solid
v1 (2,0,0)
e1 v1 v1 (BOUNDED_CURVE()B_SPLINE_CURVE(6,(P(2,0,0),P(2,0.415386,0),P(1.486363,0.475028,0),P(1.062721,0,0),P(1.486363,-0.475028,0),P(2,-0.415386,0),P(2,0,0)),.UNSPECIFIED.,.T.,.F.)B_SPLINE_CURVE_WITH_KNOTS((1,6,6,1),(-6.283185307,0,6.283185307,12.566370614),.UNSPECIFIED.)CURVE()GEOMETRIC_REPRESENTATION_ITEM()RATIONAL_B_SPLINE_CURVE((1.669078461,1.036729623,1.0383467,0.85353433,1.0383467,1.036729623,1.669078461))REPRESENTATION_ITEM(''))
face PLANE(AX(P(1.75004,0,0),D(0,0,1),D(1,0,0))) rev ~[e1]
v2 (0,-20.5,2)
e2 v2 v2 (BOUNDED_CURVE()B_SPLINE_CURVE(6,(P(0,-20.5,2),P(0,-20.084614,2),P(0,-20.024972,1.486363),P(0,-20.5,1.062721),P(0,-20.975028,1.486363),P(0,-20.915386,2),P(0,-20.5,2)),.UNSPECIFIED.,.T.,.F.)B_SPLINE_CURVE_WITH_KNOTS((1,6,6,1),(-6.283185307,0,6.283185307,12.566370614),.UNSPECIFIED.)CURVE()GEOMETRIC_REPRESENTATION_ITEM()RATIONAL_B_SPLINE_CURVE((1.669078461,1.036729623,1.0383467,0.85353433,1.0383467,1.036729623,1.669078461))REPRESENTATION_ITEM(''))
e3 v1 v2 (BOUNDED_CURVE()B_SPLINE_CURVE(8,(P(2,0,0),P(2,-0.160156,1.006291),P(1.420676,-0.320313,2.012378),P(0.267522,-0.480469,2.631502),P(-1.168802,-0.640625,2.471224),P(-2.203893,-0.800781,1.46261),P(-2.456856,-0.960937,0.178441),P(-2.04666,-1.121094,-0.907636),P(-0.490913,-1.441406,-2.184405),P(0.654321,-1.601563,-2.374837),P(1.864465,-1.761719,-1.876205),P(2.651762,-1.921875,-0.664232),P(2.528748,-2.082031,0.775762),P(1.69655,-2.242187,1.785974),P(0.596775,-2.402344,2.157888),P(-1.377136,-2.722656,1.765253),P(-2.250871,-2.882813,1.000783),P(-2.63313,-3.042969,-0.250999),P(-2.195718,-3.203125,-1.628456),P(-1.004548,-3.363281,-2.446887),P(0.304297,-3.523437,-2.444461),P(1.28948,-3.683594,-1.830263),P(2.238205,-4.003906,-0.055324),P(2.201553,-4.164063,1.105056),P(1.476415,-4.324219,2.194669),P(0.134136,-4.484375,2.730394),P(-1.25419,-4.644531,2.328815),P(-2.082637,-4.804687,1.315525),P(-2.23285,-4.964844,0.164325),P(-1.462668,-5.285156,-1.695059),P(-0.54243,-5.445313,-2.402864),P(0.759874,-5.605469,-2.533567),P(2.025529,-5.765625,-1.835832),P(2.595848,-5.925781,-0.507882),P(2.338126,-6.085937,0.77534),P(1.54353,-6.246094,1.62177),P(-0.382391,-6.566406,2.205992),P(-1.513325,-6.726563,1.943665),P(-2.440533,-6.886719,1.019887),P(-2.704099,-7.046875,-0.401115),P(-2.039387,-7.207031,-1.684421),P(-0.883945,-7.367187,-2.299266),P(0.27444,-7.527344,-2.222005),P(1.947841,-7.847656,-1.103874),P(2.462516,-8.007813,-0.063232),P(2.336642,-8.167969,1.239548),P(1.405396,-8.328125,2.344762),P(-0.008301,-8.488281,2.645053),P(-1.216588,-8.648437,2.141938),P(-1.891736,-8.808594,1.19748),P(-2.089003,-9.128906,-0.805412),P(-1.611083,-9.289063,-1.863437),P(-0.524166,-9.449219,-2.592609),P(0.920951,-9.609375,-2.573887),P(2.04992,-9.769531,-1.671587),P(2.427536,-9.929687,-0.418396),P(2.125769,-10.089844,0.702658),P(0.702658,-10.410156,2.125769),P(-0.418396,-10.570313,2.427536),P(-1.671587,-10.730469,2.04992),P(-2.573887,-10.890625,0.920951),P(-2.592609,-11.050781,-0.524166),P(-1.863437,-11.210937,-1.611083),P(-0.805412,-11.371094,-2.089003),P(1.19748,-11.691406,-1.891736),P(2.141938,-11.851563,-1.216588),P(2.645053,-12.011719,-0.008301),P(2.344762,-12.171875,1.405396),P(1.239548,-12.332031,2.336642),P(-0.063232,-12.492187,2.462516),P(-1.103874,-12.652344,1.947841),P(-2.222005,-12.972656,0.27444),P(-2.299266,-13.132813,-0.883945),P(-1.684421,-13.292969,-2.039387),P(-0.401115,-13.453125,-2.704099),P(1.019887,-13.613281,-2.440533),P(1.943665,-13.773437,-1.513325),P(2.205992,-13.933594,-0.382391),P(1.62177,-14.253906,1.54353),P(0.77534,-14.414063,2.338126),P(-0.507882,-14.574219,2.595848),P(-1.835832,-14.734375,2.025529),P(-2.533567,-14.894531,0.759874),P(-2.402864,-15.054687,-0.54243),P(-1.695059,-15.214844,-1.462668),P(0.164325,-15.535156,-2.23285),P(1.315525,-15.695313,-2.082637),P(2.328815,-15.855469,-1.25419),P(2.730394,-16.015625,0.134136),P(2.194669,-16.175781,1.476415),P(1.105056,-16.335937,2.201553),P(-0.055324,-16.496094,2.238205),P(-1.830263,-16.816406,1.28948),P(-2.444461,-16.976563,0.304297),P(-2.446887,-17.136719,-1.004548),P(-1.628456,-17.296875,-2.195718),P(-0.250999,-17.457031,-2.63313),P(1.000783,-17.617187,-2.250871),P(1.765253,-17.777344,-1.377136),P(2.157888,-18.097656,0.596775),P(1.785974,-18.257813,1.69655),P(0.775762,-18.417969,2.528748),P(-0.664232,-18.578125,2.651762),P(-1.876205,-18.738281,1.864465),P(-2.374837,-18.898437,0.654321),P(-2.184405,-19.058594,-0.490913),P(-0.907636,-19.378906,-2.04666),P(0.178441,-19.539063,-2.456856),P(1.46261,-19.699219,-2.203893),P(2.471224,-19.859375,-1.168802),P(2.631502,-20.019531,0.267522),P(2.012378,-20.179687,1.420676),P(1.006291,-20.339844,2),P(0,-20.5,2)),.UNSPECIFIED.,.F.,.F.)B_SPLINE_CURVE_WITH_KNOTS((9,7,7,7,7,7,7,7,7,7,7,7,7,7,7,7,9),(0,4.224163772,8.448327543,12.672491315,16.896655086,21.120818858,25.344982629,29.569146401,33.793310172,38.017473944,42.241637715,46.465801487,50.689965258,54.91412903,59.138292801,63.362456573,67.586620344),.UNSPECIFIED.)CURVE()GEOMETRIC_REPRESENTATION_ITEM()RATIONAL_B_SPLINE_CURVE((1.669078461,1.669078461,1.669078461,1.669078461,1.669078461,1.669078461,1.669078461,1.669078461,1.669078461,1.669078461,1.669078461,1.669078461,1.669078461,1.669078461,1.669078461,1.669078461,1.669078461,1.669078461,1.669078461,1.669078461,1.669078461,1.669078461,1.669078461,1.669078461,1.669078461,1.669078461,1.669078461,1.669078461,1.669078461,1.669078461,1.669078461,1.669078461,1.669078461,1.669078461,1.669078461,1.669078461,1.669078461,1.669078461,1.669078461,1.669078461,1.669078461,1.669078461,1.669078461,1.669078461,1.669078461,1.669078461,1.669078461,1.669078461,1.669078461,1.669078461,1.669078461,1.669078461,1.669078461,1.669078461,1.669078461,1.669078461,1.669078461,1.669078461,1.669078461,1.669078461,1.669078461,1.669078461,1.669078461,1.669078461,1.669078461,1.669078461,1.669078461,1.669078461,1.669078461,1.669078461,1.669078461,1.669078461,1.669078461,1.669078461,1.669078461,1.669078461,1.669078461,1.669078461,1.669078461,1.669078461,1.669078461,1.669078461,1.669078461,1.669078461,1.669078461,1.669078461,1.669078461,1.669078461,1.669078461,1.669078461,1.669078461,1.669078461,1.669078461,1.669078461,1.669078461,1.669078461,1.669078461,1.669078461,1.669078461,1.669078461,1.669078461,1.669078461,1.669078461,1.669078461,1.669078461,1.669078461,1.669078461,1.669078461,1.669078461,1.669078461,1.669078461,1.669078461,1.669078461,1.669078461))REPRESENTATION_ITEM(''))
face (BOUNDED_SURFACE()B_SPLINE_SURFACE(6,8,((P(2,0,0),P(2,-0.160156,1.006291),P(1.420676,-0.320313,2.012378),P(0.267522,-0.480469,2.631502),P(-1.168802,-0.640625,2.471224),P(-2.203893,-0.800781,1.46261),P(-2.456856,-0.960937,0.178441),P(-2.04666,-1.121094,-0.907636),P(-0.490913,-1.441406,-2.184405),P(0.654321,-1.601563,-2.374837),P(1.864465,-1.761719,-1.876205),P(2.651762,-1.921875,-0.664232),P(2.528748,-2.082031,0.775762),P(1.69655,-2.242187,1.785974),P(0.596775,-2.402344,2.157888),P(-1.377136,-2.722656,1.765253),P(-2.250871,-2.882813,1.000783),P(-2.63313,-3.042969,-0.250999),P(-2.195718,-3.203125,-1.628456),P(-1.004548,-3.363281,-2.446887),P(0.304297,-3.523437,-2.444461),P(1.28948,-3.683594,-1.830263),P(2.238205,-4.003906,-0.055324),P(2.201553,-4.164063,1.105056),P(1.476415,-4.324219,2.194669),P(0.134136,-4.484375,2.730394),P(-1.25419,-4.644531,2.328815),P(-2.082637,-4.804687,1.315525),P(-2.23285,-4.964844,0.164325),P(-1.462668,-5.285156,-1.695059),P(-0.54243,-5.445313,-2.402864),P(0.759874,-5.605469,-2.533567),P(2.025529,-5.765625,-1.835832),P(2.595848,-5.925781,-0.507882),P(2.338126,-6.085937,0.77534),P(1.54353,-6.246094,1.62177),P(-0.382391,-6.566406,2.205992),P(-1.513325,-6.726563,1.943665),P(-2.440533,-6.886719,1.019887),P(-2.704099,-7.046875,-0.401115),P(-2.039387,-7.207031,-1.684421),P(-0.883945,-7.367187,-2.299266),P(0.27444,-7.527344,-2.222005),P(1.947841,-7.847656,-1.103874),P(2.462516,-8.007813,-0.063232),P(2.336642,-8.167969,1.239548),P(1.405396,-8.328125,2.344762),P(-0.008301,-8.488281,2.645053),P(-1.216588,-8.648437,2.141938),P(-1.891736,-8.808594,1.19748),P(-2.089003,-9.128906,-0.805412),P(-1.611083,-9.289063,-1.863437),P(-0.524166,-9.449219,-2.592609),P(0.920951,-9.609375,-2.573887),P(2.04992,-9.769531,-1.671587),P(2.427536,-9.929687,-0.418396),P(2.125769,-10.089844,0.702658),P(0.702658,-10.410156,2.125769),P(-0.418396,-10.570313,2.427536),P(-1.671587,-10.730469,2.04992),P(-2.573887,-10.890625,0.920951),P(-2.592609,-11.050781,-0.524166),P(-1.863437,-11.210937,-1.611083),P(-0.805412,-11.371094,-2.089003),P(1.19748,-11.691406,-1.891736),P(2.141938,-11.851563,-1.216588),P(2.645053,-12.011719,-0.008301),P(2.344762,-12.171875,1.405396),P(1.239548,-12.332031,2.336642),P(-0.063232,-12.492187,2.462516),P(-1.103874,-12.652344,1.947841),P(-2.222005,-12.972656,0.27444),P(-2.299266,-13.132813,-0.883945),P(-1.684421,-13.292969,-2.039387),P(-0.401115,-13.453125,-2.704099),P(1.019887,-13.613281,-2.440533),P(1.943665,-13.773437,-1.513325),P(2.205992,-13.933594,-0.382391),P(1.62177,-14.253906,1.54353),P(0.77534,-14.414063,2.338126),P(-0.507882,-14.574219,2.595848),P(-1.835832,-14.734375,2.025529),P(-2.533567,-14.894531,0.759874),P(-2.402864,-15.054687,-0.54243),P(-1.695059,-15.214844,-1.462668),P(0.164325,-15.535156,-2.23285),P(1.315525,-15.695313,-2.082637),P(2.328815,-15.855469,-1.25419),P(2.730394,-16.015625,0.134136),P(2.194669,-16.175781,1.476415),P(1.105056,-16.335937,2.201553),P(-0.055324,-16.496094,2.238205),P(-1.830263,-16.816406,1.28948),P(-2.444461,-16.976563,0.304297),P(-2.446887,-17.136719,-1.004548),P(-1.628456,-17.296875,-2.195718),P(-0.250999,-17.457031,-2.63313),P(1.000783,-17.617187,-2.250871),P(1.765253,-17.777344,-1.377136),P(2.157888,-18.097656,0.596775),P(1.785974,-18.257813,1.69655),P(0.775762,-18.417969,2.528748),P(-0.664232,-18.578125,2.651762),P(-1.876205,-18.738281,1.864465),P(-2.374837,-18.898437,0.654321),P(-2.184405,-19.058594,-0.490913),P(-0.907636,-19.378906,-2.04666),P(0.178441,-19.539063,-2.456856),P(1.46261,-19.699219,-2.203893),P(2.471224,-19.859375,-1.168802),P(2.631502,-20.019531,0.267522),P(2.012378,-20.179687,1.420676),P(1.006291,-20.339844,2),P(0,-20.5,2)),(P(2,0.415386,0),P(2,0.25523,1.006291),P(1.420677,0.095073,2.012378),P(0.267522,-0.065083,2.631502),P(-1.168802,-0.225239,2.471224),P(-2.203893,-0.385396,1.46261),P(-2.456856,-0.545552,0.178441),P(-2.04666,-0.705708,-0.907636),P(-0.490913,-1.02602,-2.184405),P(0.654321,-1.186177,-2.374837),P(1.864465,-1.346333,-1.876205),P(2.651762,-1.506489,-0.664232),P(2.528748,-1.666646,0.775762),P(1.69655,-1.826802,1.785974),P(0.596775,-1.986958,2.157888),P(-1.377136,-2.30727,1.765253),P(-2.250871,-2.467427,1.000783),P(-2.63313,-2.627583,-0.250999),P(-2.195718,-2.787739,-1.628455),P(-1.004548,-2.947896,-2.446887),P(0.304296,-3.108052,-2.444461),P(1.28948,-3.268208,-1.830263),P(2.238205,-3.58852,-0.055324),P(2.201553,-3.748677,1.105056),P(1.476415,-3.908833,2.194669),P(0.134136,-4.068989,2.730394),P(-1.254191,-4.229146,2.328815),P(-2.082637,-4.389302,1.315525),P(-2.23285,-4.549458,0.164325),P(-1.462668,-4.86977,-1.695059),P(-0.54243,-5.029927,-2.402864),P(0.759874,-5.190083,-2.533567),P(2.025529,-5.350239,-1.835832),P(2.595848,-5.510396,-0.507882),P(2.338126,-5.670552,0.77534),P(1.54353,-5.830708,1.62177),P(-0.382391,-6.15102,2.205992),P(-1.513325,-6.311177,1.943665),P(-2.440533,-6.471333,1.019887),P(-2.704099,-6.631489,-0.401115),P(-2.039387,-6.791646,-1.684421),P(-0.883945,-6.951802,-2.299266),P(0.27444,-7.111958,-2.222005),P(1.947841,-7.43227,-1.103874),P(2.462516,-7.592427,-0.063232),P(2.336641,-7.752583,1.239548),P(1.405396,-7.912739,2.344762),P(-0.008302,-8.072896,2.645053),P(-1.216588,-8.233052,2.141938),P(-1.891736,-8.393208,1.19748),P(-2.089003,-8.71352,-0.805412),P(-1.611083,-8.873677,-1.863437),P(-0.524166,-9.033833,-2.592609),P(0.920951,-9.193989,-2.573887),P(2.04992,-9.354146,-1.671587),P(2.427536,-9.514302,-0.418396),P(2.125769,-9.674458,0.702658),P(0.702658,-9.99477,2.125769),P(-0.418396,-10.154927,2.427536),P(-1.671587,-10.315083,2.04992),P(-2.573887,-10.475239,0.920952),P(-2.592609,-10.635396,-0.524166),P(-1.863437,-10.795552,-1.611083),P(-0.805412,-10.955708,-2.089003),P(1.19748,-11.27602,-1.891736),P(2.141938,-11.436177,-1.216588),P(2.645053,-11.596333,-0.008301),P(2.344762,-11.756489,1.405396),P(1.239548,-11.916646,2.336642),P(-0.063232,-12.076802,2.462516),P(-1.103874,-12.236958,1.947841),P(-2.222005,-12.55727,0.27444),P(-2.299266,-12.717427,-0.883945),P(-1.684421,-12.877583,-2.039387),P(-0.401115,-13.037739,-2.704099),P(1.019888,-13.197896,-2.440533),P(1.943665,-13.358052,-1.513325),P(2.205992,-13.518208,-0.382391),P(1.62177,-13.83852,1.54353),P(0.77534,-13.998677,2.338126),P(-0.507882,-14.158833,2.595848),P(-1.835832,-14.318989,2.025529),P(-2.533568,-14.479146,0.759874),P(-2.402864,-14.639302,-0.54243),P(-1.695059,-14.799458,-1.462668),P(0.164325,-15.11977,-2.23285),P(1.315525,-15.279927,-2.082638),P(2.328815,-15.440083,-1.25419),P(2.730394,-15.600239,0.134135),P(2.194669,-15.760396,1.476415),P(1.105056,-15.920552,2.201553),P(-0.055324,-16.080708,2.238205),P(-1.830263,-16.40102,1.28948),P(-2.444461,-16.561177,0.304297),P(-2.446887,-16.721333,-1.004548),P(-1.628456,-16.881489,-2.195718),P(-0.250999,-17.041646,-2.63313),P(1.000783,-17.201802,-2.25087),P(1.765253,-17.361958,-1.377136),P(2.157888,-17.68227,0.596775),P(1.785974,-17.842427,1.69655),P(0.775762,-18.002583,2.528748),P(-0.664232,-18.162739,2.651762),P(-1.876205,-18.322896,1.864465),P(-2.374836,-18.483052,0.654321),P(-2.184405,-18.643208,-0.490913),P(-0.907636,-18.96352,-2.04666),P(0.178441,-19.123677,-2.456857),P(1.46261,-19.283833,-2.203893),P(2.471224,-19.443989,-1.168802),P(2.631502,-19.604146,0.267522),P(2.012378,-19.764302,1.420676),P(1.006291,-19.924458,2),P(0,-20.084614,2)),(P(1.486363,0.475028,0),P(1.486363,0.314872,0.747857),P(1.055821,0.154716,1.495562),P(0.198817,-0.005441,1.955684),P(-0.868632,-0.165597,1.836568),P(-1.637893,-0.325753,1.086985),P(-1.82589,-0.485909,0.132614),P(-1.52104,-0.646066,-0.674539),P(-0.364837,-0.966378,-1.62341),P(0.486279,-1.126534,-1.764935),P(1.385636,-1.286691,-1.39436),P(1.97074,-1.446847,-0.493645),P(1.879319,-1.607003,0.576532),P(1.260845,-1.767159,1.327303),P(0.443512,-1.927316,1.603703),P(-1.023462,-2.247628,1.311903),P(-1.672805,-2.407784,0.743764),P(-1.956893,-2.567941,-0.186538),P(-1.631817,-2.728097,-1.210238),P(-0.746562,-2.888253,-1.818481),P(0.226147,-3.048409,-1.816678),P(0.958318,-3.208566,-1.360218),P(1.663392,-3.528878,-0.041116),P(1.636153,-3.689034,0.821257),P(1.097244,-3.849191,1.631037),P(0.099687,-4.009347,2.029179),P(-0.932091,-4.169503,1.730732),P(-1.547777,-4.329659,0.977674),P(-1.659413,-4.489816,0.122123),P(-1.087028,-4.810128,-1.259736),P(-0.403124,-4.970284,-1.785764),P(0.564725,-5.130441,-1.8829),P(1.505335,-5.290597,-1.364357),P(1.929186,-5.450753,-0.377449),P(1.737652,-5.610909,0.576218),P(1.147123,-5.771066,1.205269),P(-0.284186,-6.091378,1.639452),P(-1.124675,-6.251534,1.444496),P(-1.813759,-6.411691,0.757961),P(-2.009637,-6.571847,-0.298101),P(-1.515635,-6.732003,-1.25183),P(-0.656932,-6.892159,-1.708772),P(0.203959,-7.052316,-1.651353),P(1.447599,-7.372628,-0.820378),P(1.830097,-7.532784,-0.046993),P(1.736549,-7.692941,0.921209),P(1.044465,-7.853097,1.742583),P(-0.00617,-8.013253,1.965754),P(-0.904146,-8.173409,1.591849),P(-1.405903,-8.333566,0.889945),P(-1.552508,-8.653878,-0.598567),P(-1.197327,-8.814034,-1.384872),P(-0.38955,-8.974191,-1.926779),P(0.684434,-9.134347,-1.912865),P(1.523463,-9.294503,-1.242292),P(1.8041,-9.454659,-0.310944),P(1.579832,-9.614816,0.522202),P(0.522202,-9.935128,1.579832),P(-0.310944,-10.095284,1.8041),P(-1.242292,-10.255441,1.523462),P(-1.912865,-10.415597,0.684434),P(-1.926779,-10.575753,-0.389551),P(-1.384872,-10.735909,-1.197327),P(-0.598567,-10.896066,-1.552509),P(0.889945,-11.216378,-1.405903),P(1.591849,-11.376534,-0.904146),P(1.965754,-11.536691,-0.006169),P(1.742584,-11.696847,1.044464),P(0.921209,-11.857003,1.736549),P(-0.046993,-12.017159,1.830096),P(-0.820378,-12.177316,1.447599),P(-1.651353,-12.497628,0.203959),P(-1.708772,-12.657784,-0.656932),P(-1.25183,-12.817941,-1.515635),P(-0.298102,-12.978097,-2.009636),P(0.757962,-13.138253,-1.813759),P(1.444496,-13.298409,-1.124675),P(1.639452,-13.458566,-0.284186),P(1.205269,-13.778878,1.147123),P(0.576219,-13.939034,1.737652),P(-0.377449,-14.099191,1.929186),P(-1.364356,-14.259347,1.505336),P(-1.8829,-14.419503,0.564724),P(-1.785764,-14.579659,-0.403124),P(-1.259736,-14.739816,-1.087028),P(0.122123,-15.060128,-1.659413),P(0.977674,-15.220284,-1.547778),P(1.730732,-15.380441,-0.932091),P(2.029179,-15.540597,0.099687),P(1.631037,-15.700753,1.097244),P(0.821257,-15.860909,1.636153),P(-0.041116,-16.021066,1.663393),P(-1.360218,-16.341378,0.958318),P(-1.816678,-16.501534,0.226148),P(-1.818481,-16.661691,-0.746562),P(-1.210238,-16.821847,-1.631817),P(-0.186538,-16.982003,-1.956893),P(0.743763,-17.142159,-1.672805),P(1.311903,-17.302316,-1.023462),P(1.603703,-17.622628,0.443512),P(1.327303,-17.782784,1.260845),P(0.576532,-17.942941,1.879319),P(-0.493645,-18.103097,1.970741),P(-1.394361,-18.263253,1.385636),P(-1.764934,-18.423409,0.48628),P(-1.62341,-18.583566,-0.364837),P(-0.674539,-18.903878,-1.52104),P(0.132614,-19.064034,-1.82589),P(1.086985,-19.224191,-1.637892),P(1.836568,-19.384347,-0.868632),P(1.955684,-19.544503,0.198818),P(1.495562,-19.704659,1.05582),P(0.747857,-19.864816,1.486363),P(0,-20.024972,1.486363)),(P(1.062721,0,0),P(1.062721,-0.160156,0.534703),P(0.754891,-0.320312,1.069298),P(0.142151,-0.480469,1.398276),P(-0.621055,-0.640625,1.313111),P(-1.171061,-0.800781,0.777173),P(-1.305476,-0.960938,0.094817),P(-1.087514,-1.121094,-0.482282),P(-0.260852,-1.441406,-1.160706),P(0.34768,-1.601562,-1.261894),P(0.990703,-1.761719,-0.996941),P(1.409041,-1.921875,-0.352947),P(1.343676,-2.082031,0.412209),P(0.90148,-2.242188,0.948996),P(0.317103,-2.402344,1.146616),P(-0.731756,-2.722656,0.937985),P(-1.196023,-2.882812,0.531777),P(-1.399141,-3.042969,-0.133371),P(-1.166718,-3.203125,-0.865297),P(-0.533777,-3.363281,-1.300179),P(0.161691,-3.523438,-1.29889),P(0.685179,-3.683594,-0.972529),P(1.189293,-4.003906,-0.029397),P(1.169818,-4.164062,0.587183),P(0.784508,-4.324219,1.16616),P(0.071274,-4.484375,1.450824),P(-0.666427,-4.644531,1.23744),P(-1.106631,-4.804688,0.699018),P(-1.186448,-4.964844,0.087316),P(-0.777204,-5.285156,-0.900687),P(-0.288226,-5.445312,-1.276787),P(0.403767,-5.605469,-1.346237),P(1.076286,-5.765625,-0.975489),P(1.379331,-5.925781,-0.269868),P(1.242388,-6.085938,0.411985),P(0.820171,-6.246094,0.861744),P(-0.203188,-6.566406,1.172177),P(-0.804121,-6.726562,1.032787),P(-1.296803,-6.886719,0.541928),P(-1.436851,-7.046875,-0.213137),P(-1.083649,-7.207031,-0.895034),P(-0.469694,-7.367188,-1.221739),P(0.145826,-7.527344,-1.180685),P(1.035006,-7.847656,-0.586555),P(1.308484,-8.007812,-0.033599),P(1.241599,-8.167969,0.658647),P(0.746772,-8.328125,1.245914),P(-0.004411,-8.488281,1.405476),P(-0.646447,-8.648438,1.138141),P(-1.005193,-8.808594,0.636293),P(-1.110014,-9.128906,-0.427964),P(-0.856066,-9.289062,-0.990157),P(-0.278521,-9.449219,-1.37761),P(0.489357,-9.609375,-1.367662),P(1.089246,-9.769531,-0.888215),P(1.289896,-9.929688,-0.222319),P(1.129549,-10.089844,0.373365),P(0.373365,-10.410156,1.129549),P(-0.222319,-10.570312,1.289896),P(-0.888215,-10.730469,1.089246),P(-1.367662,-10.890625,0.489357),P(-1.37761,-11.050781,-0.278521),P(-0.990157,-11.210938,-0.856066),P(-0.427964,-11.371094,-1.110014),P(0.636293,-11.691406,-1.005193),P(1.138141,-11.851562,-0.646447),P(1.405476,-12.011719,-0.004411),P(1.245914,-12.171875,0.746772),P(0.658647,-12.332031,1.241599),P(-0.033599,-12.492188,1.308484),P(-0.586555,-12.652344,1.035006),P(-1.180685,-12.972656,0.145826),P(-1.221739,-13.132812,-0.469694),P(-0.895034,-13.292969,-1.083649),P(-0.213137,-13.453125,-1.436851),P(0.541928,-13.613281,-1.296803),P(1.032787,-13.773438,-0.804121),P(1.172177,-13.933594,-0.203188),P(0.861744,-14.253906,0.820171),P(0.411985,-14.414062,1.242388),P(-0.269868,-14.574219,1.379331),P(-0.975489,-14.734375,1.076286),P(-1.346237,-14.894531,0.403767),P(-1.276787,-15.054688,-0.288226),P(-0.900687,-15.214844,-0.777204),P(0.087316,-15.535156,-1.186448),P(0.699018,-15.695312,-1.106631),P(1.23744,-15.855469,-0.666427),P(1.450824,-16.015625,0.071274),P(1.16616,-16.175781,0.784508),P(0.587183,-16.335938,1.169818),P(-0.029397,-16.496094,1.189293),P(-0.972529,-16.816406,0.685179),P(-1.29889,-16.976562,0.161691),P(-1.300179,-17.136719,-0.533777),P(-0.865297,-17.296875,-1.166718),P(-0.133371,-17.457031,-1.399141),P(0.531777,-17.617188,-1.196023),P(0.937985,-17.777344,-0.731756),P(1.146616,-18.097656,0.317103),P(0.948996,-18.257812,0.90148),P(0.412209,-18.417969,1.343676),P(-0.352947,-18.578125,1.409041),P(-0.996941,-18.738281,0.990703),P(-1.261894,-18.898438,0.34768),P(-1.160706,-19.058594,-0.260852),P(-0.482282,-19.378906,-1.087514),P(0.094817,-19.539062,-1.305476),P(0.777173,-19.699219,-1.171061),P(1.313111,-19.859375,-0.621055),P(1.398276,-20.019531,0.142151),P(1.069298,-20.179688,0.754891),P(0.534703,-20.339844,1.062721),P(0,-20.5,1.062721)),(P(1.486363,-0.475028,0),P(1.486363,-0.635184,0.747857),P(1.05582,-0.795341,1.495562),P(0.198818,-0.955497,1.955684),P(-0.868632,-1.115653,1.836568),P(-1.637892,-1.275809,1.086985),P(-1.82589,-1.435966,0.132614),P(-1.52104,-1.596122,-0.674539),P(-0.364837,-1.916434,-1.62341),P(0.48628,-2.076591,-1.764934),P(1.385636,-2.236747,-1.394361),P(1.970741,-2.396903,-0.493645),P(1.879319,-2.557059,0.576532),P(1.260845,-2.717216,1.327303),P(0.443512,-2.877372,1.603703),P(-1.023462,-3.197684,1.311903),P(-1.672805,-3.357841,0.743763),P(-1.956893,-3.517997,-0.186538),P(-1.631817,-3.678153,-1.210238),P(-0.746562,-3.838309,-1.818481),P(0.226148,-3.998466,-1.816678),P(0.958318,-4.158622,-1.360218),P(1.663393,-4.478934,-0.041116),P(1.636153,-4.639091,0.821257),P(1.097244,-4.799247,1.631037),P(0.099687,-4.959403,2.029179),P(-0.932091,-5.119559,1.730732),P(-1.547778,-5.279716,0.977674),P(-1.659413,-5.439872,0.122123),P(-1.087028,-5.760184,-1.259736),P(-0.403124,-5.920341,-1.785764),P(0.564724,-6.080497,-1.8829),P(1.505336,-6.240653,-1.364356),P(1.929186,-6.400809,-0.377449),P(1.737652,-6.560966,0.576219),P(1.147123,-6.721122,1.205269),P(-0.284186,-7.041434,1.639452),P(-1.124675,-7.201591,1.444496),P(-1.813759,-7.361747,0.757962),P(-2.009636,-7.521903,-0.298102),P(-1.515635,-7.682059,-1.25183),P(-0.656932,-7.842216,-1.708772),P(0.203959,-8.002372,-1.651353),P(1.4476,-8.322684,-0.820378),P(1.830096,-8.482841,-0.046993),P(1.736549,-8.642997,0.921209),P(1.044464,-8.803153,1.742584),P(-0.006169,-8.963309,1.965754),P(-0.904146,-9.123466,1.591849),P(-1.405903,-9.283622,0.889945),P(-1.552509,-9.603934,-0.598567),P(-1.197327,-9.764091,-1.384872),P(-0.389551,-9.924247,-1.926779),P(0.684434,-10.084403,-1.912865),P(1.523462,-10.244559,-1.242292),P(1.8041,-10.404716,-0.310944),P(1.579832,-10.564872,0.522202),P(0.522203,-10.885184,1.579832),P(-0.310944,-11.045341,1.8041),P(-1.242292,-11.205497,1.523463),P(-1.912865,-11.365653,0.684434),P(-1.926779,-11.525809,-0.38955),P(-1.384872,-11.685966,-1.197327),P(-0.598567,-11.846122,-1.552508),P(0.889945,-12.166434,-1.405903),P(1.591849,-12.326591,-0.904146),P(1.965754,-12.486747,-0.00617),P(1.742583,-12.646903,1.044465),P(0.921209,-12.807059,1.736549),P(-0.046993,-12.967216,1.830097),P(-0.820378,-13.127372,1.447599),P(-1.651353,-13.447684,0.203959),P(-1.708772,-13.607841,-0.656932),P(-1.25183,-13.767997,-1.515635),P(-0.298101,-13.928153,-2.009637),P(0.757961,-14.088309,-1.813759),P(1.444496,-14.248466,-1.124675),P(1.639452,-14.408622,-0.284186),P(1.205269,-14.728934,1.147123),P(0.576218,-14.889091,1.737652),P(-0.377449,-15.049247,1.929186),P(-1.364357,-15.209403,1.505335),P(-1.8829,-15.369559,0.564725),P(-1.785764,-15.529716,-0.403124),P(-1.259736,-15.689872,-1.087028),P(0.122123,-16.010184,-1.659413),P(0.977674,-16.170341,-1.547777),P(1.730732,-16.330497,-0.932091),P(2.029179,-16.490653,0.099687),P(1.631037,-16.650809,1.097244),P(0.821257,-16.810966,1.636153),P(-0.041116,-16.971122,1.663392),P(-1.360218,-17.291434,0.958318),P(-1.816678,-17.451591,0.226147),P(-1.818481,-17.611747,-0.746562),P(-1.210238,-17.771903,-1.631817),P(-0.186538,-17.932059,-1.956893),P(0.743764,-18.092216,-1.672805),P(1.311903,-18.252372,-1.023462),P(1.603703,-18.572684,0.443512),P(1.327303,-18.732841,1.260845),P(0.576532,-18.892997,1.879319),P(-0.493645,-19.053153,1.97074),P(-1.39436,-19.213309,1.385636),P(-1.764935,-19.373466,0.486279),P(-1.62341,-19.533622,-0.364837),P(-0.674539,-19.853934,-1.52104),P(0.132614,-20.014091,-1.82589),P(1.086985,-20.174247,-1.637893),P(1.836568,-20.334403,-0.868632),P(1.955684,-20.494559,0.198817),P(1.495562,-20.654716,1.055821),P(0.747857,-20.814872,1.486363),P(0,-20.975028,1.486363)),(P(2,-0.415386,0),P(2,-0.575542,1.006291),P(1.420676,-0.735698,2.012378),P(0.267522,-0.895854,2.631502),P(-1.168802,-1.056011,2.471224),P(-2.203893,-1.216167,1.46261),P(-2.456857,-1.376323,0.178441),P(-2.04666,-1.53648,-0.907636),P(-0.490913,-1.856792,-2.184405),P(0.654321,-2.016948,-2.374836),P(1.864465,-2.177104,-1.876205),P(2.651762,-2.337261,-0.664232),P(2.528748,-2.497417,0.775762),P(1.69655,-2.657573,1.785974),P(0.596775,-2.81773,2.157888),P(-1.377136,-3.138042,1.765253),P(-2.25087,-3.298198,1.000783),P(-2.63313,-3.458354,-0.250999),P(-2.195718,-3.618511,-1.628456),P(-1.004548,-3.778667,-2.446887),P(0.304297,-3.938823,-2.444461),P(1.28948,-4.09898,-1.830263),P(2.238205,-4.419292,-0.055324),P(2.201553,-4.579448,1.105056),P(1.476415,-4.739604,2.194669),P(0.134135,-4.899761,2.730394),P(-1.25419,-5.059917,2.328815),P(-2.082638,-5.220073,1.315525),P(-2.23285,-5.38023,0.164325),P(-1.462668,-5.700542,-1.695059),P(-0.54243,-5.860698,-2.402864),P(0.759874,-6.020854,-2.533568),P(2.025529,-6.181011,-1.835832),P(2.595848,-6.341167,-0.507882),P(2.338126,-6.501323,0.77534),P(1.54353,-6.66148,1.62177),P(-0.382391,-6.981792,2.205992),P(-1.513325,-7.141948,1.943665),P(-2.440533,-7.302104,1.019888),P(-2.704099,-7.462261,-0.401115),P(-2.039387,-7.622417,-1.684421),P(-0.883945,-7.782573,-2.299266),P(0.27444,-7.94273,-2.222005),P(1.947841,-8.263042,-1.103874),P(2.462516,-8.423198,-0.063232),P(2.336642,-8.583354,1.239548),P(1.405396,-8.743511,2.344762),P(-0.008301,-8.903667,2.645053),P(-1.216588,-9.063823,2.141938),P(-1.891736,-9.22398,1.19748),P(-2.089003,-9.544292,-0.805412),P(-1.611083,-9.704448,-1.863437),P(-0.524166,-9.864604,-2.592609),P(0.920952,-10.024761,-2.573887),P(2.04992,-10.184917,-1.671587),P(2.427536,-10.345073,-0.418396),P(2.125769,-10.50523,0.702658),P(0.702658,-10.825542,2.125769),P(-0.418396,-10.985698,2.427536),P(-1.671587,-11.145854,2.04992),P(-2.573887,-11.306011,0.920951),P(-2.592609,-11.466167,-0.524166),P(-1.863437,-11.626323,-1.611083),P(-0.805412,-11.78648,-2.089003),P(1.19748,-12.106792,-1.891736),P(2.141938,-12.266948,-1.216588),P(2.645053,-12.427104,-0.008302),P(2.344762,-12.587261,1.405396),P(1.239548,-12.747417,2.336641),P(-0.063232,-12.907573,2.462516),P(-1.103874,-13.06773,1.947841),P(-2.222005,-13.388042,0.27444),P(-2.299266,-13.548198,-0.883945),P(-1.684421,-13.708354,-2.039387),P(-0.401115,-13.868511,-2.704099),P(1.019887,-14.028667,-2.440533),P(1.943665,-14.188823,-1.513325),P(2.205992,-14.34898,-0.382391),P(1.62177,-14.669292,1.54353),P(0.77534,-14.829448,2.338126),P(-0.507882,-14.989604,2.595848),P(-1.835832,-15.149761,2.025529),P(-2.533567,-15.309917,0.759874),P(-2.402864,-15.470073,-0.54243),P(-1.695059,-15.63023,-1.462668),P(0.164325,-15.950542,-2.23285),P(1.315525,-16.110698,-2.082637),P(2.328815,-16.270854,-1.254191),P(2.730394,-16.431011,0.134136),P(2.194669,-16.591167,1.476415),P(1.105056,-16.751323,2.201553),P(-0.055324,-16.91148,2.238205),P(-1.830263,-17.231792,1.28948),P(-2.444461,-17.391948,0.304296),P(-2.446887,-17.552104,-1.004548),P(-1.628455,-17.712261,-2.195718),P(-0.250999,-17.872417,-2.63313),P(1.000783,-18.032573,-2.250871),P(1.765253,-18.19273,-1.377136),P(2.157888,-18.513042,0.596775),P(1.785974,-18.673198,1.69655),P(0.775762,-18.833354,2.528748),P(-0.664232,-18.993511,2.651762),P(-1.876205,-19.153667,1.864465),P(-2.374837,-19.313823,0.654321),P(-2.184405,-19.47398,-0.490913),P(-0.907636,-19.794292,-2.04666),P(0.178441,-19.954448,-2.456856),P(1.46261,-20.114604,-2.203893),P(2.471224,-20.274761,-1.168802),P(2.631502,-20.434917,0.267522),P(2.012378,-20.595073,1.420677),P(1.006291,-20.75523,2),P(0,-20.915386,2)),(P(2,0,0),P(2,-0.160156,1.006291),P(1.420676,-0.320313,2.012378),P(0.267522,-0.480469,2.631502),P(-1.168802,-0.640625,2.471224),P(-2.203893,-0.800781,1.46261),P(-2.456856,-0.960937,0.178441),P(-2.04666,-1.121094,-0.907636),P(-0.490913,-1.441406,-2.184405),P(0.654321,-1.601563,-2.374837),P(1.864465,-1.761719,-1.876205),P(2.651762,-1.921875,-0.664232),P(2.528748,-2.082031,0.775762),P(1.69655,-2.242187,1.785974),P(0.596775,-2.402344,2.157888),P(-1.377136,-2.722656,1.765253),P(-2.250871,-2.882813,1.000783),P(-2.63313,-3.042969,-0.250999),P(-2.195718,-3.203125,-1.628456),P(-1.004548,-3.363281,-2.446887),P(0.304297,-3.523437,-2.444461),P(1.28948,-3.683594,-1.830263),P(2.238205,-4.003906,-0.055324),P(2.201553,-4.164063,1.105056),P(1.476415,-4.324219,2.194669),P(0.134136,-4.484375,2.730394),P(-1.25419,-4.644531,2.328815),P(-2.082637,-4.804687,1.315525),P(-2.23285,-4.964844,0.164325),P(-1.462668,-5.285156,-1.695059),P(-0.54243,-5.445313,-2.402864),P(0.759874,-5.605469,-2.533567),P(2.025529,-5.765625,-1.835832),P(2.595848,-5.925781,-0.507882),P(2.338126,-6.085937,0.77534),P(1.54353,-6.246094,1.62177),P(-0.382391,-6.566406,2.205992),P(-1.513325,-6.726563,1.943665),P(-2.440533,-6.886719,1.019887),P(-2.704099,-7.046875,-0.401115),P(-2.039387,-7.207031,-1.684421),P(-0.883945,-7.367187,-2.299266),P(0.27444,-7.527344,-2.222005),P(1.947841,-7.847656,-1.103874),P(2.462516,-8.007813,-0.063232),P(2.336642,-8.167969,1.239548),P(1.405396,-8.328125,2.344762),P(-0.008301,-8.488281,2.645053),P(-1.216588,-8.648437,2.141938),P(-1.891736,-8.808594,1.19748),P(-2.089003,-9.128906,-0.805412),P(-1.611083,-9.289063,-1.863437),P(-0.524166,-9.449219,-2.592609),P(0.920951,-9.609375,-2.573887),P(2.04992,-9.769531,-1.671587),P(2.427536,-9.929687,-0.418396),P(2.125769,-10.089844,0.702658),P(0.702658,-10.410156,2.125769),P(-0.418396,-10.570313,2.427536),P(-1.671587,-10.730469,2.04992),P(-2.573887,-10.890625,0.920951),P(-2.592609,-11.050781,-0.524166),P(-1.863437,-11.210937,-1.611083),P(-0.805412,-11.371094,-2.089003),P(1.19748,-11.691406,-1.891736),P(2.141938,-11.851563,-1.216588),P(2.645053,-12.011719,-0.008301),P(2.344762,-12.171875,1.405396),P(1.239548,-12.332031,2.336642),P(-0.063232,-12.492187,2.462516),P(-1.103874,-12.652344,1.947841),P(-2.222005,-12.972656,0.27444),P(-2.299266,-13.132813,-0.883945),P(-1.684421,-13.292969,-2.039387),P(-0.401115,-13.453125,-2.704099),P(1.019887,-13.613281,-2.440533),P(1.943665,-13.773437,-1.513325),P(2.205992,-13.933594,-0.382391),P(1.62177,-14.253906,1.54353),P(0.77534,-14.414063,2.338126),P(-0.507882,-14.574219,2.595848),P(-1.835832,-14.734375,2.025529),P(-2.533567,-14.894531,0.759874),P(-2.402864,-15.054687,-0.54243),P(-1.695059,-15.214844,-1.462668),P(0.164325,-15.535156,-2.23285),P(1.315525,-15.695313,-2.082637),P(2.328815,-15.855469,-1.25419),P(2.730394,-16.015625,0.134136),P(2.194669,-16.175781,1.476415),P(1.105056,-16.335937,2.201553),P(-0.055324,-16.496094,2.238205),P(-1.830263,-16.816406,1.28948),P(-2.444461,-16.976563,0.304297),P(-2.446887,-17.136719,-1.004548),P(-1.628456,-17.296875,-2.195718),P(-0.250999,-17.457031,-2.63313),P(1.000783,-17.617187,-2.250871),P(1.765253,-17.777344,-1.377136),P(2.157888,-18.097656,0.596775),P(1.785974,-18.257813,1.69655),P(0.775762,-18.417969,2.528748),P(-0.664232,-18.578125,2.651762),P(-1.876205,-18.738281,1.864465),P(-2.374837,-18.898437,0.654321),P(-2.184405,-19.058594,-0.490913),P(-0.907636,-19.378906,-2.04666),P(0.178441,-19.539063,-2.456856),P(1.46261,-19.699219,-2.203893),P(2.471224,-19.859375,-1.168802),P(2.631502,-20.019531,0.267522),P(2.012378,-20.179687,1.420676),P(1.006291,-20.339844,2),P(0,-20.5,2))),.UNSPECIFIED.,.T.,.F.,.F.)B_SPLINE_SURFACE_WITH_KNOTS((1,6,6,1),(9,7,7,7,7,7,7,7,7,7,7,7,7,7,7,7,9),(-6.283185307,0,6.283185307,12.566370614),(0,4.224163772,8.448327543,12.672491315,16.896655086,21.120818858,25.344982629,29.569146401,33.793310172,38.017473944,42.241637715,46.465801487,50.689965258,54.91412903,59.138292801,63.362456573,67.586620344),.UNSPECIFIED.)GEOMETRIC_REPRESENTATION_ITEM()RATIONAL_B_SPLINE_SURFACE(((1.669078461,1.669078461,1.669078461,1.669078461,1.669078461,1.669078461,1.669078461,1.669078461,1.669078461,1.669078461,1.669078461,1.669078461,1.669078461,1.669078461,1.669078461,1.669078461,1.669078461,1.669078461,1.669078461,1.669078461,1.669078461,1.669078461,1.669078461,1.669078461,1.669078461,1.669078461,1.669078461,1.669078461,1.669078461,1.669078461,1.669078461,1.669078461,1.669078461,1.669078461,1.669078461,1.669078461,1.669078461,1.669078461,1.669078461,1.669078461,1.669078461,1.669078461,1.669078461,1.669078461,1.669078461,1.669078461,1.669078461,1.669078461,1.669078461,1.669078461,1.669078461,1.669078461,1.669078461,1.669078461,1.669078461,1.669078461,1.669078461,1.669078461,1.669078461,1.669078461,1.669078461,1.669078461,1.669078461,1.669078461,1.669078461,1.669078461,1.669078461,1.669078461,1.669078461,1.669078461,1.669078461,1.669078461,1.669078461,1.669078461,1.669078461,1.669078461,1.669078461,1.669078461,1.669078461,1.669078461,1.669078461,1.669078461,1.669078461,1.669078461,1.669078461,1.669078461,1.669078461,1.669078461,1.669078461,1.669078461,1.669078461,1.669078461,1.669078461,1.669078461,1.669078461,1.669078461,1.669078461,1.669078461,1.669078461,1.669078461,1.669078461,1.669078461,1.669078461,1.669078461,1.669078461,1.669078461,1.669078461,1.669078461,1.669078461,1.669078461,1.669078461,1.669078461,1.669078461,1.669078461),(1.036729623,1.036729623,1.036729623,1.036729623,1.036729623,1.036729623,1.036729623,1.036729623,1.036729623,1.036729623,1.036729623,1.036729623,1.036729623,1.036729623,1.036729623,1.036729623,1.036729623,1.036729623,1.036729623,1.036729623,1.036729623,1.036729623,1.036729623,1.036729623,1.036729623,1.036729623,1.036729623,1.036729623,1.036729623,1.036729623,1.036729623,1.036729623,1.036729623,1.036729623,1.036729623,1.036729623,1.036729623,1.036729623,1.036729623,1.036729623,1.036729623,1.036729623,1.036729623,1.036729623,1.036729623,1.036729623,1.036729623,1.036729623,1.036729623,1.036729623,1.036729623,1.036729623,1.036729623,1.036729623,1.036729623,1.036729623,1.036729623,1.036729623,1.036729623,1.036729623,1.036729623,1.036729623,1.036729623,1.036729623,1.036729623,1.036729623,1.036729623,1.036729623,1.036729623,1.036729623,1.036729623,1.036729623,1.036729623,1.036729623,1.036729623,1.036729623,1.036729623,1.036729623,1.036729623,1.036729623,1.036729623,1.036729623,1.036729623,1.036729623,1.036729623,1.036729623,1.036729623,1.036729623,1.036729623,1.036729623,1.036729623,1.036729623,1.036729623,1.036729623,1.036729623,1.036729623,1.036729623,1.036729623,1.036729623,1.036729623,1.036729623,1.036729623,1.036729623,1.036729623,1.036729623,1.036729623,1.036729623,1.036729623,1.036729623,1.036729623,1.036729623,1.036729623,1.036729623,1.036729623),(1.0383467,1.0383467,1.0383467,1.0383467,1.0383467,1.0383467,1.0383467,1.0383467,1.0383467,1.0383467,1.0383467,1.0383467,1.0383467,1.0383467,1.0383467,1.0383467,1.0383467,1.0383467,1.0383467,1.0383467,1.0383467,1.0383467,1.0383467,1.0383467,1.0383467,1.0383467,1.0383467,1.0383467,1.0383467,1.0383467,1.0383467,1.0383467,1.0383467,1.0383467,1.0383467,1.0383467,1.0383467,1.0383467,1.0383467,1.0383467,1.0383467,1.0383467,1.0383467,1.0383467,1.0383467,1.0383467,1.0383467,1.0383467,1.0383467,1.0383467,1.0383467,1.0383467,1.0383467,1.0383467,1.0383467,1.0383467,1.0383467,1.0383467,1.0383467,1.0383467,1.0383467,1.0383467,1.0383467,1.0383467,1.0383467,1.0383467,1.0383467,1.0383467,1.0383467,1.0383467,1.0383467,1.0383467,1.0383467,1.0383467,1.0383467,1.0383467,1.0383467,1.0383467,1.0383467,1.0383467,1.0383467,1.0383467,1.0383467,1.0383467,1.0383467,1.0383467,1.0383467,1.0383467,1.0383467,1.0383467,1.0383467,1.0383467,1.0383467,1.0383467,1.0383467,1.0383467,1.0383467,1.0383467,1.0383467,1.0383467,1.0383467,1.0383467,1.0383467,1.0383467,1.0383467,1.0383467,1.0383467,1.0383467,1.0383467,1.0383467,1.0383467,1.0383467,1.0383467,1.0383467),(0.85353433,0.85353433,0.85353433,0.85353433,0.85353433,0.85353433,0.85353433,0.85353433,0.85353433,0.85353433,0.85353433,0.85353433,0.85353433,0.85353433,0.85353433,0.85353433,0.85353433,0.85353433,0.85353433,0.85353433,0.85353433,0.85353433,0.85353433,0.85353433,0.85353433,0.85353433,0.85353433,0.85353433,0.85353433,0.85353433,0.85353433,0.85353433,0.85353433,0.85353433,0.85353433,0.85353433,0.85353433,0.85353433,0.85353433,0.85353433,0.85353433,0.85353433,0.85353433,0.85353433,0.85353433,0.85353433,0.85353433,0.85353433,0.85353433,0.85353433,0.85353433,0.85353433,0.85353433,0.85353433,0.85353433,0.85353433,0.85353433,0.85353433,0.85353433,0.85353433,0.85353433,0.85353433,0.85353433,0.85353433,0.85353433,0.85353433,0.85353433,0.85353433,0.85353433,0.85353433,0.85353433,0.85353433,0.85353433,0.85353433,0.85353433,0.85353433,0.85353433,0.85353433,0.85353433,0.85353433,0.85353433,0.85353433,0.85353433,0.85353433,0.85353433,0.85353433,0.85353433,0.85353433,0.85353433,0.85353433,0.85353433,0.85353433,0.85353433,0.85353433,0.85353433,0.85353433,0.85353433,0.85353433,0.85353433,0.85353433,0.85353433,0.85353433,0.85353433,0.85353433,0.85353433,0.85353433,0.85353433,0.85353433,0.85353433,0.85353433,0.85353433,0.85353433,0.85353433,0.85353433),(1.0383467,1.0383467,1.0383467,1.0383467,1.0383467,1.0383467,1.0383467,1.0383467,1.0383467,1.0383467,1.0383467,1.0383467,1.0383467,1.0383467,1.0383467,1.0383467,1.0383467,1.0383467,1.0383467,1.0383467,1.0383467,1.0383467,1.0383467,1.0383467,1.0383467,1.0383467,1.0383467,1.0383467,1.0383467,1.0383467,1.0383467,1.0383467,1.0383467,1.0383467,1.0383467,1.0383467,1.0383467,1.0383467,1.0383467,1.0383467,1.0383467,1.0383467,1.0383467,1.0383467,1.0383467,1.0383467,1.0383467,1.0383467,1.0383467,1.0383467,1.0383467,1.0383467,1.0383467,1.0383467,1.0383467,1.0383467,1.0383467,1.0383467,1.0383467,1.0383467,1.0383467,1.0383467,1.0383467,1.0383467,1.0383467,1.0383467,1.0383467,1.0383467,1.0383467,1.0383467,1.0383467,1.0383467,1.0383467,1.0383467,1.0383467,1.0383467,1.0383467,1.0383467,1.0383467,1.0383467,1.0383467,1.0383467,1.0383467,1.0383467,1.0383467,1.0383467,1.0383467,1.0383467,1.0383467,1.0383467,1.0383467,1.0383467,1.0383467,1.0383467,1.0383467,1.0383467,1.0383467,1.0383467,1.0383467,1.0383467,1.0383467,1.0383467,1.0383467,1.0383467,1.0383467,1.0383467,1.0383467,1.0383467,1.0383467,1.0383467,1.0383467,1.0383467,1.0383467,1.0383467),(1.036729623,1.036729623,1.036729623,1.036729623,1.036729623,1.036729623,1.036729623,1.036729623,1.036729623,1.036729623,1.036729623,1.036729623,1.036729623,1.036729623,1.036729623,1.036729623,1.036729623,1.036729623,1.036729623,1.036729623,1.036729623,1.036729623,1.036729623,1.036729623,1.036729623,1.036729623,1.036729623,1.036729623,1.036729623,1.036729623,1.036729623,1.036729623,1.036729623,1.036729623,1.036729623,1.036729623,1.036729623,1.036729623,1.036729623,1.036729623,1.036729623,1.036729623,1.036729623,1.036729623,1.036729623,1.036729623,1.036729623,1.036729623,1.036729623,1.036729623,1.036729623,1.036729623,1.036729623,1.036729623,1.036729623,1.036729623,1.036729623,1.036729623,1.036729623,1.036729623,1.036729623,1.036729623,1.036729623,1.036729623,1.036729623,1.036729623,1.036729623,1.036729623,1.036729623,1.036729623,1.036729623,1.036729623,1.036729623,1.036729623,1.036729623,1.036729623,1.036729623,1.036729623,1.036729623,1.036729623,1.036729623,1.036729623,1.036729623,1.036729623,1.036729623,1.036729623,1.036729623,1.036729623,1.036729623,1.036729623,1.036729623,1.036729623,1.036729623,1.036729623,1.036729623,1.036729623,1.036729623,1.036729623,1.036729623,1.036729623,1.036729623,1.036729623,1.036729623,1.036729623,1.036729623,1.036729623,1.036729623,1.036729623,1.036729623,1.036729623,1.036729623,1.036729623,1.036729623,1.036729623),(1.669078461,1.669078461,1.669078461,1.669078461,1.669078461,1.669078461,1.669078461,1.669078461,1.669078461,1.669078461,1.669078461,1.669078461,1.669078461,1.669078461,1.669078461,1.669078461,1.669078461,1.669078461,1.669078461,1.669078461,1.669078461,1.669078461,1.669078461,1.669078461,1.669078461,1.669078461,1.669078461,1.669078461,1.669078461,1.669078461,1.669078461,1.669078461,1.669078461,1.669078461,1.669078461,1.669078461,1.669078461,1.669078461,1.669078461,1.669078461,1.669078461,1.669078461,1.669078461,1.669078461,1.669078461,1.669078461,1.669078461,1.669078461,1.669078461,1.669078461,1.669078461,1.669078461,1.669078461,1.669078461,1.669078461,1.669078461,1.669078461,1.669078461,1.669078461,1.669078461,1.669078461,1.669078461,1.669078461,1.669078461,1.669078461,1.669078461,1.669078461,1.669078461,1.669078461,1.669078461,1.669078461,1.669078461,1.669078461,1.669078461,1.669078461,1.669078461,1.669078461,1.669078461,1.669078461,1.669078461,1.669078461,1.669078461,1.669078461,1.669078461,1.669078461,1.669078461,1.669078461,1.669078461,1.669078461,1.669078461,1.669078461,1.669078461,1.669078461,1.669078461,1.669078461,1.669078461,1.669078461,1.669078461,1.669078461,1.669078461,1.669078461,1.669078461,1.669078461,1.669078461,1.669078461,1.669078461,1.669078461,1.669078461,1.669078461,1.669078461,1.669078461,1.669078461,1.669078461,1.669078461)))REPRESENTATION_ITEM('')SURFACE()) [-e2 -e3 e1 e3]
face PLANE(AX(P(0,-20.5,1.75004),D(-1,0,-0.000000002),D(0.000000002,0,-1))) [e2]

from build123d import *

# Parameters (mm, degrees)
SPRING_PITCH          = 2
SPRING_HEIGHT         = 20.5
SPRING_RADIUS         = 1.75
SPRING_START_ANGLE    = 90
SPRINGBODYDIAMETERS_R = 0.25


with BuildPart() as part:
    # SPRING: sweep along a helix
    with BuildLine() as spring_path:
        add(Helix(SPRING_PITCH, SPRING_HEIGHT, SPRING_RADIUS, center=(0, 0, 0), direction=(0, -1, 0), mode=Mode.PRIVATE).rotate(Axis((0, 0, 0), (0, -1, 0)), SPRING_START_ANGLE))
    # SpringBodyDiameterS → SPRING (sweep)
    with BuildSketch(Plane.XY):
        with Locations((1.75, 0)):
            Circle(SPRINGBODYDIAMETERS_R)
    sweep(path=spring_path.line, is_frenet=True)


solid = part.part
